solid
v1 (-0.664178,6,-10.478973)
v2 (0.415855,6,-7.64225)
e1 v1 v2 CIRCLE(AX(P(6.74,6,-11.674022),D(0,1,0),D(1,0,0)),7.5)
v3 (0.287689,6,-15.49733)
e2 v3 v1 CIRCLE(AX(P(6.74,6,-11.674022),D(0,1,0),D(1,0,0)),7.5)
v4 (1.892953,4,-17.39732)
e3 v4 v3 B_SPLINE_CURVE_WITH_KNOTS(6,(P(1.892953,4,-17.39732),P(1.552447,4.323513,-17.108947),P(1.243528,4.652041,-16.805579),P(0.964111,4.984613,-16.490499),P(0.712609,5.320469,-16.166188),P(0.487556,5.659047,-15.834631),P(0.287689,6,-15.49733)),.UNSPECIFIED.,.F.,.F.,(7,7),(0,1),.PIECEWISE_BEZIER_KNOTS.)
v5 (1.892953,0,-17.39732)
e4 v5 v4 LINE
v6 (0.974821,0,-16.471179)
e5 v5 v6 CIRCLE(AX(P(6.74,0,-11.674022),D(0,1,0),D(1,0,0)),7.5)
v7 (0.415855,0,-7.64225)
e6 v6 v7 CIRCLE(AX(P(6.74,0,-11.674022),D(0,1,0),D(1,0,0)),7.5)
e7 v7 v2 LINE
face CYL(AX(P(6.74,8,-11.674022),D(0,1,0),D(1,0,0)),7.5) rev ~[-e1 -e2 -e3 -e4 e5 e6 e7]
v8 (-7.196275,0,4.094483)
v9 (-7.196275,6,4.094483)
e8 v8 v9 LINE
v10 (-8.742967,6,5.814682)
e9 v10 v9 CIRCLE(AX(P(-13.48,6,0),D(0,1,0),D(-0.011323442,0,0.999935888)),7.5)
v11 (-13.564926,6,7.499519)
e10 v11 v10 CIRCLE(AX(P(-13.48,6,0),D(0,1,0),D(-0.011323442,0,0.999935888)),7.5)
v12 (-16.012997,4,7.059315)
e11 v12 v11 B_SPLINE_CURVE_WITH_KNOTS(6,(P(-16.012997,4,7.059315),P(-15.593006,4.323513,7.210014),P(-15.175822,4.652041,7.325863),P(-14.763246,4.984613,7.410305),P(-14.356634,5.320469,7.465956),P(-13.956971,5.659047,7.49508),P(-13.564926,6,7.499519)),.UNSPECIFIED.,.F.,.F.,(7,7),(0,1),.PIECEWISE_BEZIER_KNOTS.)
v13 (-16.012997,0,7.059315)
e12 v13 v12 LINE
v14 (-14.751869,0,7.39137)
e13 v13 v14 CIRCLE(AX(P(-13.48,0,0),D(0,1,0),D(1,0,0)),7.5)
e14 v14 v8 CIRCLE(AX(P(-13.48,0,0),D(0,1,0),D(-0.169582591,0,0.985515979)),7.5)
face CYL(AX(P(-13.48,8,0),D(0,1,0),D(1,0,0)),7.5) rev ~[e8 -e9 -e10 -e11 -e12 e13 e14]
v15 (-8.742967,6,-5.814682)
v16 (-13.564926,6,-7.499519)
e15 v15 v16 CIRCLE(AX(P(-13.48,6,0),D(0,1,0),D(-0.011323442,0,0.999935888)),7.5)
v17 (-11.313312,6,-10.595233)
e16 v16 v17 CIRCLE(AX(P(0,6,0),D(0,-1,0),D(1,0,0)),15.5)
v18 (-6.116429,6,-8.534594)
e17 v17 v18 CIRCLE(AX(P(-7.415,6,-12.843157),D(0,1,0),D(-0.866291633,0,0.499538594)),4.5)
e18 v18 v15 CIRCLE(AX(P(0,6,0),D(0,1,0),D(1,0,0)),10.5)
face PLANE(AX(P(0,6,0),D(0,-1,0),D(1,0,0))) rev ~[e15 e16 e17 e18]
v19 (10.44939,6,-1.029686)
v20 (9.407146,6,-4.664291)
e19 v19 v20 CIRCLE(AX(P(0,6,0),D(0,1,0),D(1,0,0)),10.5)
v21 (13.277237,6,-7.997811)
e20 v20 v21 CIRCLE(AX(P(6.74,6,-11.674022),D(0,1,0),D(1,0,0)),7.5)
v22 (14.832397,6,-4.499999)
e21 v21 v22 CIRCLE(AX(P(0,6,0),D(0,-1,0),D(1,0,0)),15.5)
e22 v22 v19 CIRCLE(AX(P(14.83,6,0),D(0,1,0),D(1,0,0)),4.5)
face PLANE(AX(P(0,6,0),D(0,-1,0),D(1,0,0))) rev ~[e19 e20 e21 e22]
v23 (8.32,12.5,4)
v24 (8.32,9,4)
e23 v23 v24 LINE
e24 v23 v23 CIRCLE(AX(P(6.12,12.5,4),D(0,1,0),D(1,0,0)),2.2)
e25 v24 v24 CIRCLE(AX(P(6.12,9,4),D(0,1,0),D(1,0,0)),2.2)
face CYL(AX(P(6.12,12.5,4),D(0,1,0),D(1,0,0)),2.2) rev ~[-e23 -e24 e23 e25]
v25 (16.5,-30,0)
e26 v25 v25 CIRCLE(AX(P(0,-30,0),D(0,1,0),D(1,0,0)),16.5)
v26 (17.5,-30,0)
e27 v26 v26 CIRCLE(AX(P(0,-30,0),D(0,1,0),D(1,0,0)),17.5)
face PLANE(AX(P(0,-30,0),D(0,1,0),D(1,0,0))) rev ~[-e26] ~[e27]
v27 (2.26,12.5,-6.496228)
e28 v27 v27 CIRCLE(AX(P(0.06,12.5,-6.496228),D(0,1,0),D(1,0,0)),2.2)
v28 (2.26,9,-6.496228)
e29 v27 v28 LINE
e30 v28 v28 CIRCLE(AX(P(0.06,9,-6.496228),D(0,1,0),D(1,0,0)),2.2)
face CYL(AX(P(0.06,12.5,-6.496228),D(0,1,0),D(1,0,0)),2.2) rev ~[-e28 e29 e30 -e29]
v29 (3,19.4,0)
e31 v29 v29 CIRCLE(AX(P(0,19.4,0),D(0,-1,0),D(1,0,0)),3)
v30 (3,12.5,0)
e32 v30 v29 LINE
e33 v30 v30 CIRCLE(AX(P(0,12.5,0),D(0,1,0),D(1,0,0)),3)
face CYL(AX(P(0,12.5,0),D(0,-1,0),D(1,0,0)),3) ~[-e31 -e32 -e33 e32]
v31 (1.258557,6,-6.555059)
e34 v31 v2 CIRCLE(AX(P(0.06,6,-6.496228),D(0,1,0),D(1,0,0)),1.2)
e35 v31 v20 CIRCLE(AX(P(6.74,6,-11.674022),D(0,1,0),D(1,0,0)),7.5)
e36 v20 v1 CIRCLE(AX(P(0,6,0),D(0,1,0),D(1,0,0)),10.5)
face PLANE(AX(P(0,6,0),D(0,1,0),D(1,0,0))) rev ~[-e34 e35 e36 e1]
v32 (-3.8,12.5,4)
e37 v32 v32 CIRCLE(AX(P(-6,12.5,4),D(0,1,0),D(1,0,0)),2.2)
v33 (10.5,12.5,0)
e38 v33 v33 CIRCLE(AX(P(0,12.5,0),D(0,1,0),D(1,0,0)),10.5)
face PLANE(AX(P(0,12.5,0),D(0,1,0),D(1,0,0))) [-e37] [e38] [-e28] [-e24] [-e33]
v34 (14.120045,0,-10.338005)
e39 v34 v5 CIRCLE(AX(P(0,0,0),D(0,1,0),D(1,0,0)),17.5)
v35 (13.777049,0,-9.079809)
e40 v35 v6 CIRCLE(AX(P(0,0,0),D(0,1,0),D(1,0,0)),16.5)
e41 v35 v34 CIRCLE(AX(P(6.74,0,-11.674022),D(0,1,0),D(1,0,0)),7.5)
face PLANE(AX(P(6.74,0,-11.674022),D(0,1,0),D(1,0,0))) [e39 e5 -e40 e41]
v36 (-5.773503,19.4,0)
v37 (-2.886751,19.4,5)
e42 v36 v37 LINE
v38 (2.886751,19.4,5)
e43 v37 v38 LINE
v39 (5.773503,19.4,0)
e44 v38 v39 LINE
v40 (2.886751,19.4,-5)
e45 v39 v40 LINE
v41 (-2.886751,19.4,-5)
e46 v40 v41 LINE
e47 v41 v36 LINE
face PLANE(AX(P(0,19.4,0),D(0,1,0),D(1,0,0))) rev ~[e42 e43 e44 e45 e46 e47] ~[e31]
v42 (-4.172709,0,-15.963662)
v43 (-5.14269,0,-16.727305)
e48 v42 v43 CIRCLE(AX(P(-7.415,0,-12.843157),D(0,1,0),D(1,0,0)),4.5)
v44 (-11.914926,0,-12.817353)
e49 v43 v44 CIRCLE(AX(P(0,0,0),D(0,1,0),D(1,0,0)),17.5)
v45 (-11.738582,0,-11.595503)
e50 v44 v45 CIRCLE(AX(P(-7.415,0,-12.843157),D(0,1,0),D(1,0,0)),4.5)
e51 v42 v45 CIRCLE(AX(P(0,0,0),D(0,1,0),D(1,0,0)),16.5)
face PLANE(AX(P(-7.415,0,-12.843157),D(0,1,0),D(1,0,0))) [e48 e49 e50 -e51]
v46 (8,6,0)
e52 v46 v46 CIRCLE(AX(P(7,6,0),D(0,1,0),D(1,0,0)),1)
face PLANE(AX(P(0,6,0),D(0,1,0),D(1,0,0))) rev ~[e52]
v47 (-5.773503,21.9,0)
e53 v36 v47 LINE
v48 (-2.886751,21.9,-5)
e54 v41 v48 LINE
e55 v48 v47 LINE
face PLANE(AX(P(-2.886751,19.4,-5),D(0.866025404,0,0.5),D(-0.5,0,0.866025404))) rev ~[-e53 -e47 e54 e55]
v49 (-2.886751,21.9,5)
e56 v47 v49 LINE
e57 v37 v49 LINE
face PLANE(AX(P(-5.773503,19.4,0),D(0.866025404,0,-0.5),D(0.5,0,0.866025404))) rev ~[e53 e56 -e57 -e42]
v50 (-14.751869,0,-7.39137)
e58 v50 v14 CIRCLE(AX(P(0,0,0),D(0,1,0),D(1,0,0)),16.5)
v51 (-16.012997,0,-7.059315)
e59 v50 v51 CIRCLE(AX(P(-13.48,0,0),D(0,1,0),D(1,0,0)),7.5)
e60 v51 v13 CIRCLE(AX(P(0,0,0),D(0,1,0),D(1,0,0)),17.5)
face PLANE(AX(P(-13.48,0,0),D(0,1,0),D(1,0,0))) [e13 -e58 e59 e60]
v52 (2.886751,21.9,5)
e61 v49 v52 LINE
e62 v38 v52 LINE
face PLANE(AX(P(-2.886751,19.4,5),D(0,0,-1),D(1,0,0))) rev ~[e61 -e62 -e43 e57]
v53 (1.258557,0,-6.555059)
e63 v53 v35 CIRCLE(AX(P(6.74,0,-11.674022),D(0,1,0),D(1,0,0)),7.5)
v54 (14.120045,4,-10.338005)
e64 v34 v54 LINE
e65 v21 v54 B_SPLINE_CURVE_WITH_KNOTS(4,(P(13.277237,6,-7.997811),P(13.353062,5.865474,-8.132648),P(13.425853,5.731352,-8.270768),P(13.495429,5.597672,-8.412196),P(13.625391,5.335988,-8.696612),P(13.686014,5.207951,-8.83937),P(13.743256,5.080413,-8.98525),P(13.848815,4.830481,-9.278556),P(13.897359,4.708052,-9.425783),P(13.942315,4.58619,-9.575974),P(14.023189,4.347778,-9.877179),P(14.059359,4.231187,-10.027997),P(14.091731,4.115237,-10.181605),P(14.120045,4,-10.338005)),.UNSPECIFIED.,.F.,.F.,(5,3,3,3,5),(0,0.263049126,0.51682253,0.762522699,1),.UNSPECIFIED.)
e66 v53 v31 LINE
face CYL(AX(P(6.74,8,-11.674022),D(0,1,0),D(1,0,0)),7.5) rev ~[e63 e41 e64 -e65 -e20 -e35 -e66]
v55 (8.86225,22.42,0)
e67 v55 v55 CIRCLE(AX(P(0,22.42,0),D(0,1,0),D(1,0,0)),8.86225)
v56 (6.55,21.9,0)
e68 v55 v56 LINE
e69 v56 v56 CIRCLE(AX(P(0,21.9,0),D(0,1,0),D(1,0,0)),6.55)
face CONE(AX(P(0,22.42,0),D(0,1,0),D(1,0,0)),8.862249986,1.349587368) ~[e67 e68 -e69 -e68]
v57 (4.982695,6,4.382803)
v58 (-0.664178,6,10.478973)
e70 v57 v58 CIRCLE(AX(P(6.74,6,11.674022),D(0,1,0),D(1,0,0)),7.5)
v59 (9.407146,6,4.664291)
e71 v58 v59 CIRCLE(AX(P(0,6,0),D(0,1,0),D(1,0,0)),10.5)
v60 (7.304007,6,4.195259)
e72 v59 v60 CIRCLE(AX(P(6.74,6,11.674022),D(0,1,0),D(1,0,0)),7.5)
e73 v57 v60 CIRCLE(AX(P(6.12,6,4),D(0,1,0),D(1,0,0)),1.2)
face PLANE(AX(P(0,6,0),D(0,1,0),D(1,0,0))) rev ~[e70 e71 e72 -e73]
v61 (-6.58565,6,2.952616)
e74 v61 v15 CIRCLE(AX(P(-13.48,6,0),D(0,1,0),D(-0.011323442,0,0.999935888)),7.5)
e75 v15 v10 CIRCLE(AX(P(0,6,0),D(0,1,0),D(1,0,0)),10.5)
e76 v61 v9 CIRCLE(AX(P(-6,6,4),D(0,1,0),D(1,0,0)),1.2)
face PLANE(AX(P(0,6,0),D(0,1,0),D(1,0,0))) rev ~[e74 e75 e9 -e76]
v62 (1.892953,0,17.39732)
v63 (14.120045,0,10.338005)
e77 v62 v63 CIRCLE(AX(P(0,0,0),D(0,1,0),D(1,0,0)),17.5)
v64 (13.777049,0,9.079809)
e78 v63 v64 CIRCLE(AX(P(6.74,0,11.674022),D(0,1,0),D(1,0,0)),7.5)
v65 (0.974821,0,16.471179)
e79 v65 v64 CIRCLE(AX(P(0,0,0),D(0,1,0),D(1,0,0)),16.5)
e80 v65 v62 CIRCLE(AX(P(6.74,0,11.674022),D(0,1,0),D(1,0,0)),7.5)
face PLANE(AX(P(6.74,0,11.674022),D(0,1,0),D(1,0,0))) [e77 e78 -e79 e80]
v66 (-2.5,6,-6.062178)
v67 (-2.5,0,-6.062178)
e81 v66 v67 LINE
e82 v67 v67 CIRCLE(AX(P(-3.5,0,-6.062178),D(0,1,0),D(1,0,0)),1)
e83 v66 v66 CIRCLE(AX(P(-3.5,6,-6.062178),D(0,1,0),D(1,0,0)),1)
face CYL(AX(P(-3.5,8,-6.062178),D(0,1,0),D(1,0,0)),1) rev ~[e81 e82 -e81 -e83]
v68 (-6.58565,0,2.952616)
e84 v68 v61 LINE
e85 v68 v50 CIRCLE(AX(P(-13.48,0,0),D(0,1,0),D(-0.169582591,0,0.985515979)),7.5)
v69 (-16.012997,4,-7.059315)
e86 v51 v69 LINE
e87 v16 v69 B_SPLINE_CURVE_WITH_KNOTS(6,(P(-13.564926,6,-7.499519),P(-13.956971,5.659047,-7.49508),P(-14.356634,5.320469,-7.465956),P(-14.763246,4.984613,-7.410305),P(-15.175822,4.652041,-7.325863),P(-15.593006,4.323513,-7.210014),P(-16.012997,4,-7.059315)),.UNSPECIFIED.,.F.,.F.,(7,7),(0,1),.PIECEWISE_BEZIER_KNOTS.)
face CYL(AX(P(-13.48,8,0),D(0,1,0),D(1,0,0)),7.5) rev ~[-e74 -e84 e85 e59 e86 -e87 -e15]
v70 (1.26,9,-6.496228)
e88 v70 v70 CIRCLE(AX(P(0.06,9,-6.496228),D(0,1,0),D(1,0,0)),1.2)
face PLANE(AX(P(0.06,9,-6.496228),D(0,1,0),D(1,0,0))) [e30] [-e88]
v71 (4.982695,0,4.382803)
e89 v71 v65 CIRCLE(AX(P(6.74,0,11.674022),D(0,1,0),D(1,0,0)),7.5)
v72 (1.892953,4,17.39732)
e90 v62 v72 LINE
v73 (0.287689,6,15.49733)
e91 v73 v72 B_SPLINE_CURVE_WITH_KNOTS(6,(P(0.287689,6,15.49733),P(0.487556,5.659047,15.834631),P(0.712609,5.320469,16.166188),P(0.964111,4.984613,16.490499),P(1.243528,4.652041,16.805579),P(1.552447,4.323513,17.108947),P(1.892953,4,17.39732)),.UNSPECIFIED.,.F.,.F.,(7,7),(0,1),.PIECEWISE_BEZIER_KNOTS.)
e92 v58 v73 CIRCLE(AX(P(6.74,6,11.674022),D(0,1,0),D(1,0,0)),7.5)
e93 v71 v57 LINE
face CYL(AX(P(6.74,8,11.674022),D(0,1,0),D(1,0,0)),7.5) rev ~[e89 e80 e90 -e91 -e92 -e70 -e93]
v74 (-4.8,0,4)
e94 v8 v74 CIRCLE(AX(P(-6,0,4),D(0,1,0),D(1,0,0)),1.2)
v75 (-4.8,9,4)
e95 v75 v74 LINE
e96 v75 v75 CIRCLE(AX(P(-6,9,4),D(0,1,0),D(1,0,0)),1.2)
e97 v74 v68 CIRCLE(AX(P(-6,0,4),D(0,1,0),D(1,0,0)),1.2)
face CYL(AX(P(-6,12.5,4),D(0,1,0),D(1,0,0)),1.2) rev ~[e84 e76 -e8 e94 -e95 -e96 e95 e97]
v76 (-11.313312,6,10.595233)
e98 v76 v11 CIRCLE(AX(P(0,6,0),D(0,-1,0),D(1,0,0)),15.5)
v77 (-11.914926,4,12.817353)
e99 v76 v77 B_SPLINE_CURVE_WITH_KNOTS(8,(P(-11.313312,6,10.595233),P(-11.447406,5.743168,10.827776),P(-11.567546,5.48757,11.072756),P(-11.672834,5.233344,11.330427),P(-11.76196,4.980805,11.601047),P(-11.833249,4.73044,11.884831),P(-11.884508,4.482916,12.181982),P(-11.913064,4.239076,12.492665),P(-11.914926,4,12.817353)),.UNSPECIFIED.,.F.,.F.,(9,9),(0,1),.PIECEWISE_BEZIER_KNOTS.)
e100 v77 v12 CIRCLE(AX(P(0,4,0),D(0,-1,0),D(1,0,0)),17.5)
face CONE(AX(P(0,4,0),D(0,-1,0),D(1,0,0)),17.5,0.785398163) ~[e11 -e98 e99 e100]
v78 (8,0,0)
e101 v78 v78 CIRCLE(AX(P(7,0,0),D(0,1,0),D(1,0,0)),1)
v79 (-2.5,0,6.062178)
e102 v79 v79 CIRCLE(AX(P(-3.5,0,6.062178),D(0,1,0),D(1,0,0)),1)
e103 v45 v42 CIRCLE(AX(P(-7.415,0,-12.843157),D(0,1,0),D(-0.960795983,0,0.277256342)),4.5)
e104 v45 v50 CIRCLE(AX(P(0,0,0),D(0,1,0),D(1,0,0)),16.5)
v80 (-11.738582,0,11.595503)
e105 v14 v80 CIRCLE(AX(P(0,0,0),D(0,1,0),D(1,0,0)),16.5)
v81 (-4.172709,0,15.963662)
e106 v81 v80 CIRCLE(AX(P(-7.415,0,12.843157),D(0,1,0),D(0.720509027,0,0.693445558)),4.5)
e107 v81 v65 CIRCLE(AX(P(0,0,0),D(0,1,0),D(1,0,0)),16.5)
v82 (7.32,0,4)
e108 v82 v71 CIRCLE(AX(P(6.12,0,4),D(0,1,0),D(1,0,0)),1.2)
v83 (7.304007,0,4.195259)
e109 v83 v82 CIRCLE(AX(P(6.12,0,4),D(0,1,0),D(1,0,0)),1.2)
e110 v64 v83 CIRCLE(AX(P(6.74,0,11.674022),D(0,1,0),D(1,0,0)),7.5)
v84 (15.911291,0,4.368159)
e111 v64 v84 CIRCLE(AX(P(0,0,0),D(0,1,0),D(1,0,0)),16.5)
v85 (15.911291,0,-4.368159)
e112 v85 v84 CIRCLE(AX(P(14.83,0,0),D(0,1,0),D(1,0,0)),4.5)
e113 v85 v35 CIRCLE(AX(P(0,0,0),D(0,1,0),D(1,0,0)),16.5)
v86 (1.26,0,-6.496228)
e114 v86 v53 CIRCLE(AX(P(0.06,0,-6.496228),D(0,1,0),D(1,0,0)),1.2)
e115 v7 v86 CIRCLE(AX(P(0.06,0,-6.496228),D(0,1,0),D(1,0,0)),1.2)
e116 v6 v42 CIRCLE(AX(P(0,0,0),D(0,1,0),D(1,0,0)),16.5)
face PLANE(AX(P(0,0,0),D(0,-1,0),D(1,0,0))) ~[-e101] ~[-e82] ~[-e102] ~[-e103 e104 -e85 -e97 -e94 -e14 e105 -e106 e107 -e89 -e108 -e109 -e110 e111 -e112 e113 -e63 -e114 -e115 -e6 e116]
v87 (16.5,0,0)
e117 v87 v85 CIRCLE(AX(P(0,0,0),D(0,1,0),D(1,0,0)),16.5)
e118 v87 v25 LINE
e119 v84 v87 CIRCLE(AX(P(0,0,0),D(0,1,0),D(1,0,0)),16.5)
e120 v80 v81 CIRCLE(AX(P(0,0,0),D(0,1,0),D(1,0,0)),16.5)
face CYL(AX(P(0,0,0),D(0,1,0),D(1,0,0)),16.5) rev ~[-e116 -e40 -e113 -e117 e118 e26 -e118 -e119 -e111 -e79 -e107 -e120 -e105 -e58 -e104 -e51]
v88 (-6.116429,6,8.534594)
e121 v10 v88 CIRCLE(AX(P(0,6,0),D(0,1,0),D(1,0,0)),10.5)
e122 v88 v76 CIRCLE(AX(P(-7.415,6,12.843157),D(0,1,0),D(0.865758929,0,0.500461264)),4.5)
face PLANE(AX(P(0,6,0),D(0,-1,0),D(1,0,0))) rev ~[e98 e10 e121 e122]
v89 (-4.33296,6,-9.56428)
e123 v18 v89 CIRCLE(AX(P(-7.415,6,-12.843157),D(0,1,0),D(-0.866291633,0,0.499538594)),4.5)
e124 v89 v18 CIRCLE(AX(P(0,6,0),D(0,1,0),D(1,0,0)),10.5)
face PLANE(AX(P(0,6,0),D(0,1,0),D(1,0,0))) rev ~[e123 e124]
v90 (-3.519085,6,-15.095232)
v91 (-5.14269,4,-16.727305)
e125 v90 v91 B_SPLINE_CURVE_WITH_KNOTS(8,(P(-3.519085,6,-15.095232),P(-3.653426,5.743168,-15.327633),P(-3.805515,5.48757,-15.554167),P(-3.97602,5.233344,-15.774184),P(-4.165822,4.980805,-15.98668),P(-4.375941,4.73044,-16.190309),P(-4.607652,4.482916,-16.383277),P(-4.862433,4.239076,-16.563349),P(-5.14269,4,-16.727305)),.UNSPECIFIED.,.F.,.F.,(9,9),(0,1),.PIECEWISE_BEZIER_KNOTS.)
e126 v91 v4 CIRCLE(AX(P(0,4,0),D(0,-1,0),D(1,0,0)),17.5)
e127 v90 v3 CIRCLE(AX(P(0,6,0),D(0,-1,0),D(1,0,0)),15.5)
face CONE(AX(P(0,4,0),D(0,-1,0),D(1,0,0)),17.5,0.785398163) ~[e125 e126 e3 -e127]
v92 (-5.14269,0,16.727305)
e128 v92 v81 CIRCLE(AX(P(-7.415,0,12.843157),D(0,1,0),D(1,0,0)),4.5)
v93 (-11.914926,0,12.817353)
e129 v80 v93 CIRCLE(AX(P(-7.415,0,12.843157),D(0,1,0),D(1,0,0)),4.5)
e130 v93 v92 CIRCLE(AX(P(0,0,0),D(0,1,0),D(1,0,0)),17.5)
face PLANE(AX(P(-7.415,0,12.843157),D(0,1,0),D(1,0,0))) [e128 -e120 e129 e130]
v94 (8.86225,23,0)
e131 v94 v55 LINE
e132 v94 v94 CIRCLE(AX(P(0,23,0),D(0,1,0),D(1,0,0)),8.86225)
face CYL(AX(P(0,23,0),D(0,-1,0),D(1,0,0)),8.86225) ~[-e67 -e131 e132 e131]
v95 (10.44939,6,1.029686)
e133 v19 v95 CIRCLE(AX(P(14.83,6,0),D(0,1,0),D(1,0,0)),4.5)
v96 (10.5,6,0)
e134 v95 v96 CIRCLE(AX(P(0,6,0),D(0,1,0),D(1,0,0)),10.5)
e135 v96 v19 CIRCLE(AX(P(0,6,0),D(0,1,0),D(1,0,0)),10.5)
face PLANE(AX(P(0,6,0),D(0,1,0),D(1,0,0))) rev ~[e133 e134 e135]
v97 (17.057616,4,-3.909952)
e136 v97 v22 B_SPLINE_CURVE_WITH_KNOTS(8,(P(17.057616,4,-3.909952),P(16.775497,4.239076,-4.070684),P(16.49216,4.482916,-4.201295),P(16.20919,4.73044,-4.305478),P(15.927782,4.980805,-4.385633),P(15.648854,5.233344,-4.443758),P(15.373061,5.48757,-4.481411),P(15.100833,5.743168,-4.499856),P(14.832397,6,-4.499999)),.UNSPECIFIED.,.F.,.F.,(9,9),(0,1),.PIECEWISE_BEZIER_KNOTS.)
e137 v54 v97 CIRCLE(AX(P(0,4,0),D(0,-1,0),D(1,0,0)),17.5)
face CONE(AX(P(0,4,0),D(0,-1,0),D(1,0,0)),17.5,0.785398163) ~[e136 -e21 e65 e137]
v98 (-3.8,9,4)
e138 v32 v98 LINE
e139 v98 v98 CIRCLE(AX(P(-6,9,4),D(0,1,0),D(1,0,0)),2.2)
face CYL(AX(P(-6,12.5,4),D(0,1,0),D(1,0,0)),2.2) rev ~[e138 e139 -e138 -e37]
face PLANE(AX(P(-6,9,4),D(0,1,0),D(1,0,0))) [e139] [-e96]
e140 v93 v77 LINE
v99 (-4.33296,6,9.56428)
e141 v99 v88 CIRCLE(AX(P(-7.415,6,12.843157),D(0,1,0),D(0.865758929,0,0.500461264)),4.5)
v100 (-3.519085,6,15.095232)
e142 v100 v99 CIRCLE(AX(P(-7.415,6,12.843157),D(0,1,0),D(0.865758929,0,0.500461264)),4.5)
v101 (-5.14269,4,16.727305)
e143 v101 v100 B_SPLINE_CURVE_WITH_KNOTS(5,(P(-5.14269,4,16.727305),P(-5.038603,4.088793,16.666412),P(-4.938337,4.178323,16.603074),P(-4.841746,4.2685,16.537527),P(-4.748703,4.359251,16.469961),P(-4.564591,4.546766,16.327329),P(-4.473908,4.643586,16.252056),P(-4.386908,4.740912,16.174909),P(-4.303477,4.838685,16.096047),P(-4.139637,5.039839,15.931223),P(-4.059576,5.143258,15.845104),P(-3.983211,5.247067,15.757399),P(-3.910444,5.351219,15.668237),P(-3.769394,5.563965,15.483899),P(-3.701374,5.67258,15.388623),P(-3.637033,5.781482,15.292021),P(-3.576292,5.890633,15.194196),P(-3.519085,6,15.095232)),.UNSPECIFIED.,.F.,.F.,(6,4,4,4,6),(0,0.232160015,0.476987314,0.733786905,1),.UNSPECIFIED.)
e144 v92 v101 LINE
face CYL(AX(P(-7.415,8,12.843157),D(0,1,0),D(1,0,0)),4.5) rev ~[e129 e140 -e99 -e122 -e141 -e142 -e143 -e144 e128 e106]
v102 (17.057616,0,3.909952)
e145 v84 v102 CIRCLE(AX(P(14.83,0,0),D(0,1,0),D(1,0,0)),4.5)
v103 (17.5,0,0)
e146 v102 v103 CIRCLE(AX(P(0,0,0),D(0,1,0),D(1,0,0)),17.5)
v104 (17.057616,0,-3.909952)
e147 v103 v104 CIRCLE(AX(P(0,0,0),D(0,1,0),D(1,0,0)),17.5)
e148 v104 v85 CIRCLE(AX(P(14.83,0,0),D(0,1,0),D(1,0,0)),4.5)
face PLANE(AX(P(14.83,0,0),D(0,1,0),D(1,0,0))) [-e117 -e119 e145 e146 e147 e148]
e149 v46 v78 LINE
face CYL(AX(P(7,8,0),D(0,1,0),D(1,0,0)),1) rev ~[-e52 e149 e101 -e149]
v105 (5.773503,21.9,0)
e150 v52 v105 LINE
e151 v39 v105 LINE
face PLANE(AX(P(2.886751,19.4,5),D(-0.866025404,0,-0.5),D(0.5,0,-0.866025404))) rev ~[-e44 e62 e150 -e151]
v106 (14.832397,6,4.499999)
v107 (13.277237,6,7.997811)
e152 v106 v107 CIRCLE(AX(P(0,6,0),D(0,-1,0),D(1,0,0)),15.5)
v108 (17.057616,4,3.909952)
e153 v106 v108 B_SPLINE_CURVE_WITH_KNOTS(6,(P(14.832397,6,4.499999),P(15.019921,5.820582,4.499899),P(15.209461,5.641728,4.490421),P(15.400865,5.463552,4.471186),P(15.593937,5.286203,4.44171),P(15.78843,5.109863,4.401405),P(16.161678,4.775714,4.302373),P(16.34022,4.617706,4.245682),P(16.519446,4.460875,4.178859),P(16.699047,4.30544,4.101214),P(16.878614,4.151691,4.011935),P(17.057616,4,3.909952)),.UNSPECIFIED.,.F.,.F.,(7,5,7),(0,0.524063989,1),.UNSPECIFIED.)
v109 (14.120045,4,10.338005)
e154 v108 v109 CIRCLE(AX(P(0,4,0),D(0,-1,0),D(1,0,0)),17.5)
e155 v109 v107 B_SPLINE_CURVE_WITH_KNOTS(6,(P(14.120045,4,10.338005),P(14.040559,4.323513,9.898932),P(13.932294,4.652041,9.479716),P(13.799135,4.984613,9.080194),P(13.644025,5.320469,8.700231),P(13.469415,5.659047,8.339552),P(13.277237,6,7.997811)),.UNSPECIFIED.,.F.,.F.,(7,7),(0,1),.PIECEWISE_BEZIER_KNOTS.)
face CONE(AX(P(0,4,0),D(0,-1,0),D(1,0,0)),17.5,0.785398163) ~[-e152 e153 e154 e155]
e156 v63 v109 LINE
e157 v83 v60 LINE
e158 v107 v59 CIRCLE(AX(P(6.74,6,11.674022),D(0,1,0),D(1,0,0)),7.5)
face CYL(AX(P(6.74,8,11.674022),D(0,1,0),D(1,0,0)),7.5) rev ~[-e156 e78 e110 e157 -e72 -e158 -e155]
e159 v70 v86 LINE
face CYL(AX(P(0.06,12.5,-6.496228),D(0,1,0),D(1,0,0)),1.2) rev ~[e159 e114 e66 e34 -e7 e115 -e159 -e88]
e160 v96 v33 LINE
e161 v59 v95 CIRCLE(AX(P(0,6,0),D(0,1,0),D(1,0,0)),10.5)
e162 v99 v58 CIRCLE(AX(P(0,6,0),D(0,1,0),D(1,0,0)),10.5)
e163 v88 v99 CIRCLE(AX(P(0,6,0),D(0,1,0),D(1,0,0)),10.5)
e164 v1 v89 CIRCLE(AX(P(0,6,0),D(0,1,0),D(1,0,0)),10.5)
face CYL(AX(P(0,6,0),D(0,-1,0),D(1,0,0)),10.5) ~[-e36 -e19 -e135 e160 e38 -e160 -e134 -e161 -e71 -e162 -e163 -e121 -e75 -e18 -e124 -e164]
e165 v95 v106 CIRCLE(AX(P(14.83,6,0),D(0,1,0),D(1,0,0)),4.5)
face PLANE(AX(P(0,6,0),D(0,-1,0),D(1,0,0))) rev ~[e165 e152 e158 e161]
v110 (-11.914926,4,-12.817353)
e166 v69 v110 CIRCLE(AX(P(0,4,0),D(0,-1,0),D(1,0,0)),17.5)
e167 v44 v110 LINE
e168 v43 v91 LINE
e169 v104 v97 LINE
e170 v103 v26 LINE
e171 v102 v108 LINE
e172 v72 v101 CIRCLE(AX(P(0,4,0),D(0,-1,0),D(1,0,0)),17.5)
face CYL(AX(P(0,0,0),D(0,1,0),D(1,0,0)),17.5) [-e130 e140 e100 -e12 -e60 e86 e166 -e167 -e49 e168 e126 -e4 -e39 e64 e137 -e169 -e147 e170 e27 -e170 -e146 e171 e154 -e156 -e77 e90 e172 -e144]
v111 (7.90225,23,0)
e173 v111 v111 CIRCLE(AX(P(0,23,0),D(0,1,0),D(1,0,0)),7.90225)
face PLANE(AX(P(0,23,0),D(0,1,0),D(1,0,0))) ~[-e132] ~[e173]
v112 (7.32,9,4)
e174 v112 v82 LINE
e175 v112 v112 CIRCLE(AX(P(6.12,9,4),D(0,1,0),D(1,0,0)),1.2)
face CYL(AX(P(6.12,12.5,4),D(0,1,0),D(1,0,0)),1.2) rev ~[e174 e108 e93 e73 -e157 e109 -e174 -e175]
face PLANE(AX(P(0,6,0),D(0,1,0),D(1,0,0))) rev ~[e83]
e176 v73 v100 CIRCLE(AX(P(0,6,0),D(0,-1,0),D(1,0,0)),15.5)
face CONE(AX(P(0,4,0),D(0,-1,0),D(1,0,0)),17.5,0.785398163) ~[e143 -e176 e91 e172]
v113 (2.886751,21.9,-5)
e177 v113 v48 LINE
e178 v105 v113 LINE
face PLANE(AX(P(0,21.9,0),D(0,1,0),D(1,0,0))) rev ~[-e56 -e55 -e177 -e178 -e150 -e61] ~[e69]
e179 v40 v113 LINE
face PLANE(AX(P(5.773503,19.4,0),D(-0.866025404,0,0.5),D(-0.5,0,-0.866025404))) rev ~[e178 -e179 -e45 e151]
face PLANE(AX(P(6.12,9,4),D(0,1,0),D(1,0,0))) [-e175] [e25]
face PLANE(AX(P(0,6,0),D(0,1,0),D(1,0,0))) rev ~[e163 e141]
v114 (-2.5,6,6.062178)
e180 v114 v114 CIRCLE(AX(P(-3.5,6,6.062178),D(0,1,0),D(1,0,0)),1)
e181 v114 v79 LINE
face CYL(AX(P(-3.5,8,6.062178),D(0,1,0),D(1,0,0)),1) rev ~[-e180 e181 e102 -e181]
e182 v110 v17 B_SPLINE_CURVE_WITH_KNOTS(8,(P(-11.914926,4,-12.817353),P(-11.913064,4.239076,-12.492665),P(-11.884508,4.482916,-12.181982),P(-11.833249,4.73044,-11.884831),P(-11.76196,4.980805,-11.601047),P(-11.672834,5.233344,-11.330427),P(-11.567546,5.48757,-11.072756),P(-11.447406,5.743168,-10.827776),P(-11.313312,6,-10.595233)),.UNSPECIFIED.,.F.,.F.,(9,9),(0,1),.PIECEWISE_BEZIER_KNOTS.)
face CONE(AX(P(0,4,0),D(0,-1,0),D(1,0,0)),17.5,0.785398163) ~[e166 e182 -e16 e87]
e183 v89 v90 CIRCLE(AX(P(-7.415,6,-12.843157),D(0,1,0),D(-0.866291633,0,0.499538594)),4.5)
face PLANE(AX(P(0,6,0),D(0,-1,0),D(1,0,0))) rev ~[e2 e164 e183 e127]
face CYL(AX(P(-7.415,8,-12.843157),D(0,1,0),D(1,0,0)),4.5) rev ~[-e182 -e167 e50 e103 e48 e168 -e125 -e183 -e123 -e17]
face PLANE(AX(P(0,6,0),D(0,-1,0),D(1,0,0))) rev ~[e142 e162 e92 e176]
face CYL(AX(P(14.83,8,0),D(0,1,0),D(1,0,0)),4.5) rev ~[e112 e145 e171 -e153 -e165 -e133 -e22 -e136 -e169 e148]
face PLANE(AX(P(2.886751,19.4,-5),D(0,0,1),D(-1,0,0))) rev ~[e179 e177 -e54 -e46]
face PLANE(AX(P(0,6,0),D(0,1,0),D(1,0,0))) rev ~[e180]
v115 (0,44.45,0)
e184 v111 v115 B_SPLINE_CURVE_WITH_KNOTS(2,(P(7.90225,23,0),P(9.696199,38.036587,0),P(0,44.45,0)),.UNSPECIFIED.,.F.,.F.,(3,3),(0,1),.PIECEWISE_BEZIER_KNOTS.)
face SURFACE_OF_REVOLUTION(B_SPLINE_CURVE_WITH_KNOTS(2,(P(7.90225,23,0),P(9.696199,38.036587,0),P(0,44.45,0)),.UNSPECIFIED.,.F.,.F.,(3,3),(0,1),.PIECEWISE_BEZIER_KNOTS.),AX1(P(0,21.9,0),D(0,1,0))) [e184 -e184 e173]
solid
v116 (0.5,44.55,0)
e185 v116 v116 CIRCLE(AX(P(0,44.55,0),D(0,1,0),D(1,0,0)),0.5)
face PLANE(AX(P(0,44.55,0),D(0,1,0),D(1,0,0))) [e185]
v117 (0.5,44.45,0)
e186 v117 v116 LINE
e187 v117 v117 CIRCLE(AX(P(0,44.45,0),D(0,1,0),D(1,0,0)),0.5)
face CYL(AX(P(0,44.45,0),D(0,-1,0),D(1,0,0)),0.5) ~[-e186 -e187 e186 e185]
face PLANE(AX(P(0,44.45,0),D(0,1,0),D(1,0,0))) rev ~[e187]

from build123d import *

# Parameters (mm, degrees)
IZIM1_R                     = 17.5
IZIM1_R_2                   = 16.5
Y_KSEKLIK_EKSTR_ZYON1_DEPTH = 30
IZIM4_R                     = 1
KES_EKSTR_ZYON1_DEPTH       = 30
IZIM5_R                     = 4.5
KES_EKSTR_ZYON2_DEPTH       = 8
IZIM6_R                     = 7.5
KES_EKSTR_ZYON3_DEPTH       = 8
IZIM8_R                     = 10.5
Y_KSEKLIK_EKSTR_ZYON3_DEPTH = 6.5
IZIM9_R                     = 3
Y_KSEKLIK_EKSTR_ZYON4_DEPTH = 23.5
IZIM13_R                    = 1.2
KES_EKSTR_ZYON4_DEPTH       = 23.5
IZIM14_R                    = 2.2
KES_EKSTR_ZYON5_DEPTH       = 3.5
Y_KSEKLIK_EKSTR_ZYON5_START = 6.9
Y_KSEKLIK_EKSTR_ZYON5_DEPTH = 5
Y_KSEKLIK_EKSTR_ZYON6_START = 31.95
IZIM18_R                    = 0.5
Y_KSEKLIK_EKSTR_ZYON6_DEPTH = 0.1


with BuildPart() as part:
    # Çizim1 → Yükseklik-Ekstrüzyon1 (new body)
    with BuildSketch(Plane(origin=(0, 0, 0), x_dir=(1, 0, 0), z_dir=(0, 1, 0))):
        Circle(IZIM1_R)
        Circle(IZIM1_R_2, mode=Mode.SUBTRACT)
    extrude(amount=-Y_KSEKLIK_EKSTR_ZYON1_DEPTH)

    # Çizim3 → Döndür1 (revolve)
    with BuildSketch(Plane.XY):
        Polygon((0, 0), (17.5, 0), (17.5, 4), (15.5, 6), (5.4, 6), (5.4, 8), (0, 8), align=None)
    revolve(axis=Axis((0, 8, 0), (0, -1, 0)))

    # Çizim4 → Kes-Ekstrüzyon1 (cut)
    with BuildSketch(Plane(origin=(0, 8, 0), x_dir=(1, 0, 0), z_dir=(0, 1, 0))):
        with Locations((7, 0)):
            Circle(IZIM4_R)
        with Locations((-3.5, -6.062177826)):
            Circle(IZIM4_R)
        with Locations((-3.5, 6.062177826)):
            Circle(IZIM4_R)
    extrude(amount=-KES_EKSTR_ZYON1_DEPTH, mode=Mode.SUBTRACT)

    # Çizim5 → Kes-Ekstrüzyon2 (cut)
    with BuildSketch(Plane(origin=(0, 8, 0), x_dir=(1, 0, 0), z_dir=(0, 1, 0))):
        with Locations((14.83, 0)):
            Circle(IZIM5_R)
        with Locations((-7.415, -12.843156738)):
            Circle(IZIM5_R)
        with Locations((-7.415, 12.843156738)):
            Circle(IZIM5_R)
    extrude(amount=-KES_EKSTR_ZYON2_DEPTH, mode=Mode.SUBTRACT)

    # Çizim6 → Kes-Ekstrüzyon3 (cut)
    with BuildSketch(Plane(origin=(0, 8, 0), x_dir=(1, 0, 0), z_dir=(0, 1, 0))):
        with Locations((6.74, 11.674022443)):
            Circle(IZIM6_R)
        with Locations((6.74, -11.674022443)):
            Circle(IZIM6_R)
        with Locations((-13.48, 0)):
            Circle(IZIM6_R)
    extrude(amount=-KES_EKSTR_ZYON3_DEPTH, mode=Mode.SUBTRACT)

    # Çizim8 → Yükseklik-Ekstrüzyon3 (add)
    with BuildSketch(Plane(origin=(0, 6, 0), x_dir=(1, 0, 0), z_dir=(0, 1, 0))):
        Circle(IZIM8_R)
    extrude(amount=Y_KSEKLIK_EKSTR_ZYON3_DEPTH)

    # Çizim9 → Yükseklik-Ekstrüzyon4 (add)
    with BuildSketch(Plane(origin=(0, 12.5, 0), x_dir=(1, 0, 0), z_dir=(0, 1, 0))):
        Circle(IZIM9_R)
    extrude(amount=Y_KSEKLIK_EKSTR_ZYON4_DEPTH)

    # Çizim13 → Kes-Ekstrüzyon4 (cut)
    with BuildSketch(Plane(origin=(0, 12.5, 0), x_dir=(1, 0, 0), z_dir=(0, 1, 0))):
        with Locations((0.06, 6.496227894)):
            Circle(IZIM13_R)
        with Locations((6.12, -4)):
            Circle(IZIM13_R)
        with Locations((-6, -4)):
            Circle(IZIM13_R)
    extrude(amount=-KES_EKSTR_ZYON4_DEPTH, mode=Mode.SUBTRACT)

    # Çizim14 → Kes-Ekstrüzyon5 (cut)
    with BuildSketch(Plane(origin=(0, 12.5, 0), x_dir=(1, 0, 0), z_dir=(0, 1, 0))):
        with Locations((0.06, 6.496227894)):
            Circle(IZIM14_R)
        with Locations((6.12, -4)):
            Circle(IZIM14_R)
        with Locations((-6, -4)):
            Circle(IZIM14_R)
    extrude(amount=-KES_EKSTR_ZYON5_DEPTH, mode=Mode.SUBTRACT)

    # Çizim15 → Yükseklik-Ekstrüzyon5 (add)
    with BuildSketch(Plane(origin=(0, 12.5, 0), x_dir=(1, 0, 0), z_dir=(0, 1, 0)).offset(Y_KSEKLIK_EKSTR_ZYON5_START)):
        Polygon((2.886751346, 5), (-2.886751346, 5), (-5.773502692, 0), (-2.886751346, -5), (2.886751346, -5), (5.773502692, 0), align=None)
    extrude(amount=Y_KSEKLIK_EKSTR_ZYON5_DEPTH)

    # Çizim17 → Döndür2 (revolve)
    with BuildSketch(Plane.XY):
        with BuildLine():
            Line((0, 21.9), (0, 44.45))
            add(Edge.make_bspline(
                [(7.902249986, 23), (9.696199014, 38.036586862), (0, 44.45)],
                knots=[0, 0, 0, 1, 1, 1], degree=2))
            Line((7.902249986, 23), (8.862249986, 23))
            Line((8.862249986, 23), (8.862249986, 22.42))
            Line((8.862249986, 22.42), (6.55, 21.9))
            Line((6.55, 21.9), (0, 21.9))
        make_face()
    revolve(axis=Axis((0, 21.9, 0), (0, 1, 0)))


with BuildPart() as body_2:
    # Çizim18 → Yükseklik-Ekstrüzyon6 (new body)
    with BuildSketch(Plane(origin=(0, 12.5, 0), x_dir=(1, 0, 0), z_dir=(0, 1, 0)).offset(Y_KSEKLIK_EKSTR_ZYON6_START)):
        Circle(IZIM18_R)
    extrude(amount=Y_KSEKLIK_EKSTR_ZYON6_DEPTH)


solid = Compound([part.part, body_2.part])
